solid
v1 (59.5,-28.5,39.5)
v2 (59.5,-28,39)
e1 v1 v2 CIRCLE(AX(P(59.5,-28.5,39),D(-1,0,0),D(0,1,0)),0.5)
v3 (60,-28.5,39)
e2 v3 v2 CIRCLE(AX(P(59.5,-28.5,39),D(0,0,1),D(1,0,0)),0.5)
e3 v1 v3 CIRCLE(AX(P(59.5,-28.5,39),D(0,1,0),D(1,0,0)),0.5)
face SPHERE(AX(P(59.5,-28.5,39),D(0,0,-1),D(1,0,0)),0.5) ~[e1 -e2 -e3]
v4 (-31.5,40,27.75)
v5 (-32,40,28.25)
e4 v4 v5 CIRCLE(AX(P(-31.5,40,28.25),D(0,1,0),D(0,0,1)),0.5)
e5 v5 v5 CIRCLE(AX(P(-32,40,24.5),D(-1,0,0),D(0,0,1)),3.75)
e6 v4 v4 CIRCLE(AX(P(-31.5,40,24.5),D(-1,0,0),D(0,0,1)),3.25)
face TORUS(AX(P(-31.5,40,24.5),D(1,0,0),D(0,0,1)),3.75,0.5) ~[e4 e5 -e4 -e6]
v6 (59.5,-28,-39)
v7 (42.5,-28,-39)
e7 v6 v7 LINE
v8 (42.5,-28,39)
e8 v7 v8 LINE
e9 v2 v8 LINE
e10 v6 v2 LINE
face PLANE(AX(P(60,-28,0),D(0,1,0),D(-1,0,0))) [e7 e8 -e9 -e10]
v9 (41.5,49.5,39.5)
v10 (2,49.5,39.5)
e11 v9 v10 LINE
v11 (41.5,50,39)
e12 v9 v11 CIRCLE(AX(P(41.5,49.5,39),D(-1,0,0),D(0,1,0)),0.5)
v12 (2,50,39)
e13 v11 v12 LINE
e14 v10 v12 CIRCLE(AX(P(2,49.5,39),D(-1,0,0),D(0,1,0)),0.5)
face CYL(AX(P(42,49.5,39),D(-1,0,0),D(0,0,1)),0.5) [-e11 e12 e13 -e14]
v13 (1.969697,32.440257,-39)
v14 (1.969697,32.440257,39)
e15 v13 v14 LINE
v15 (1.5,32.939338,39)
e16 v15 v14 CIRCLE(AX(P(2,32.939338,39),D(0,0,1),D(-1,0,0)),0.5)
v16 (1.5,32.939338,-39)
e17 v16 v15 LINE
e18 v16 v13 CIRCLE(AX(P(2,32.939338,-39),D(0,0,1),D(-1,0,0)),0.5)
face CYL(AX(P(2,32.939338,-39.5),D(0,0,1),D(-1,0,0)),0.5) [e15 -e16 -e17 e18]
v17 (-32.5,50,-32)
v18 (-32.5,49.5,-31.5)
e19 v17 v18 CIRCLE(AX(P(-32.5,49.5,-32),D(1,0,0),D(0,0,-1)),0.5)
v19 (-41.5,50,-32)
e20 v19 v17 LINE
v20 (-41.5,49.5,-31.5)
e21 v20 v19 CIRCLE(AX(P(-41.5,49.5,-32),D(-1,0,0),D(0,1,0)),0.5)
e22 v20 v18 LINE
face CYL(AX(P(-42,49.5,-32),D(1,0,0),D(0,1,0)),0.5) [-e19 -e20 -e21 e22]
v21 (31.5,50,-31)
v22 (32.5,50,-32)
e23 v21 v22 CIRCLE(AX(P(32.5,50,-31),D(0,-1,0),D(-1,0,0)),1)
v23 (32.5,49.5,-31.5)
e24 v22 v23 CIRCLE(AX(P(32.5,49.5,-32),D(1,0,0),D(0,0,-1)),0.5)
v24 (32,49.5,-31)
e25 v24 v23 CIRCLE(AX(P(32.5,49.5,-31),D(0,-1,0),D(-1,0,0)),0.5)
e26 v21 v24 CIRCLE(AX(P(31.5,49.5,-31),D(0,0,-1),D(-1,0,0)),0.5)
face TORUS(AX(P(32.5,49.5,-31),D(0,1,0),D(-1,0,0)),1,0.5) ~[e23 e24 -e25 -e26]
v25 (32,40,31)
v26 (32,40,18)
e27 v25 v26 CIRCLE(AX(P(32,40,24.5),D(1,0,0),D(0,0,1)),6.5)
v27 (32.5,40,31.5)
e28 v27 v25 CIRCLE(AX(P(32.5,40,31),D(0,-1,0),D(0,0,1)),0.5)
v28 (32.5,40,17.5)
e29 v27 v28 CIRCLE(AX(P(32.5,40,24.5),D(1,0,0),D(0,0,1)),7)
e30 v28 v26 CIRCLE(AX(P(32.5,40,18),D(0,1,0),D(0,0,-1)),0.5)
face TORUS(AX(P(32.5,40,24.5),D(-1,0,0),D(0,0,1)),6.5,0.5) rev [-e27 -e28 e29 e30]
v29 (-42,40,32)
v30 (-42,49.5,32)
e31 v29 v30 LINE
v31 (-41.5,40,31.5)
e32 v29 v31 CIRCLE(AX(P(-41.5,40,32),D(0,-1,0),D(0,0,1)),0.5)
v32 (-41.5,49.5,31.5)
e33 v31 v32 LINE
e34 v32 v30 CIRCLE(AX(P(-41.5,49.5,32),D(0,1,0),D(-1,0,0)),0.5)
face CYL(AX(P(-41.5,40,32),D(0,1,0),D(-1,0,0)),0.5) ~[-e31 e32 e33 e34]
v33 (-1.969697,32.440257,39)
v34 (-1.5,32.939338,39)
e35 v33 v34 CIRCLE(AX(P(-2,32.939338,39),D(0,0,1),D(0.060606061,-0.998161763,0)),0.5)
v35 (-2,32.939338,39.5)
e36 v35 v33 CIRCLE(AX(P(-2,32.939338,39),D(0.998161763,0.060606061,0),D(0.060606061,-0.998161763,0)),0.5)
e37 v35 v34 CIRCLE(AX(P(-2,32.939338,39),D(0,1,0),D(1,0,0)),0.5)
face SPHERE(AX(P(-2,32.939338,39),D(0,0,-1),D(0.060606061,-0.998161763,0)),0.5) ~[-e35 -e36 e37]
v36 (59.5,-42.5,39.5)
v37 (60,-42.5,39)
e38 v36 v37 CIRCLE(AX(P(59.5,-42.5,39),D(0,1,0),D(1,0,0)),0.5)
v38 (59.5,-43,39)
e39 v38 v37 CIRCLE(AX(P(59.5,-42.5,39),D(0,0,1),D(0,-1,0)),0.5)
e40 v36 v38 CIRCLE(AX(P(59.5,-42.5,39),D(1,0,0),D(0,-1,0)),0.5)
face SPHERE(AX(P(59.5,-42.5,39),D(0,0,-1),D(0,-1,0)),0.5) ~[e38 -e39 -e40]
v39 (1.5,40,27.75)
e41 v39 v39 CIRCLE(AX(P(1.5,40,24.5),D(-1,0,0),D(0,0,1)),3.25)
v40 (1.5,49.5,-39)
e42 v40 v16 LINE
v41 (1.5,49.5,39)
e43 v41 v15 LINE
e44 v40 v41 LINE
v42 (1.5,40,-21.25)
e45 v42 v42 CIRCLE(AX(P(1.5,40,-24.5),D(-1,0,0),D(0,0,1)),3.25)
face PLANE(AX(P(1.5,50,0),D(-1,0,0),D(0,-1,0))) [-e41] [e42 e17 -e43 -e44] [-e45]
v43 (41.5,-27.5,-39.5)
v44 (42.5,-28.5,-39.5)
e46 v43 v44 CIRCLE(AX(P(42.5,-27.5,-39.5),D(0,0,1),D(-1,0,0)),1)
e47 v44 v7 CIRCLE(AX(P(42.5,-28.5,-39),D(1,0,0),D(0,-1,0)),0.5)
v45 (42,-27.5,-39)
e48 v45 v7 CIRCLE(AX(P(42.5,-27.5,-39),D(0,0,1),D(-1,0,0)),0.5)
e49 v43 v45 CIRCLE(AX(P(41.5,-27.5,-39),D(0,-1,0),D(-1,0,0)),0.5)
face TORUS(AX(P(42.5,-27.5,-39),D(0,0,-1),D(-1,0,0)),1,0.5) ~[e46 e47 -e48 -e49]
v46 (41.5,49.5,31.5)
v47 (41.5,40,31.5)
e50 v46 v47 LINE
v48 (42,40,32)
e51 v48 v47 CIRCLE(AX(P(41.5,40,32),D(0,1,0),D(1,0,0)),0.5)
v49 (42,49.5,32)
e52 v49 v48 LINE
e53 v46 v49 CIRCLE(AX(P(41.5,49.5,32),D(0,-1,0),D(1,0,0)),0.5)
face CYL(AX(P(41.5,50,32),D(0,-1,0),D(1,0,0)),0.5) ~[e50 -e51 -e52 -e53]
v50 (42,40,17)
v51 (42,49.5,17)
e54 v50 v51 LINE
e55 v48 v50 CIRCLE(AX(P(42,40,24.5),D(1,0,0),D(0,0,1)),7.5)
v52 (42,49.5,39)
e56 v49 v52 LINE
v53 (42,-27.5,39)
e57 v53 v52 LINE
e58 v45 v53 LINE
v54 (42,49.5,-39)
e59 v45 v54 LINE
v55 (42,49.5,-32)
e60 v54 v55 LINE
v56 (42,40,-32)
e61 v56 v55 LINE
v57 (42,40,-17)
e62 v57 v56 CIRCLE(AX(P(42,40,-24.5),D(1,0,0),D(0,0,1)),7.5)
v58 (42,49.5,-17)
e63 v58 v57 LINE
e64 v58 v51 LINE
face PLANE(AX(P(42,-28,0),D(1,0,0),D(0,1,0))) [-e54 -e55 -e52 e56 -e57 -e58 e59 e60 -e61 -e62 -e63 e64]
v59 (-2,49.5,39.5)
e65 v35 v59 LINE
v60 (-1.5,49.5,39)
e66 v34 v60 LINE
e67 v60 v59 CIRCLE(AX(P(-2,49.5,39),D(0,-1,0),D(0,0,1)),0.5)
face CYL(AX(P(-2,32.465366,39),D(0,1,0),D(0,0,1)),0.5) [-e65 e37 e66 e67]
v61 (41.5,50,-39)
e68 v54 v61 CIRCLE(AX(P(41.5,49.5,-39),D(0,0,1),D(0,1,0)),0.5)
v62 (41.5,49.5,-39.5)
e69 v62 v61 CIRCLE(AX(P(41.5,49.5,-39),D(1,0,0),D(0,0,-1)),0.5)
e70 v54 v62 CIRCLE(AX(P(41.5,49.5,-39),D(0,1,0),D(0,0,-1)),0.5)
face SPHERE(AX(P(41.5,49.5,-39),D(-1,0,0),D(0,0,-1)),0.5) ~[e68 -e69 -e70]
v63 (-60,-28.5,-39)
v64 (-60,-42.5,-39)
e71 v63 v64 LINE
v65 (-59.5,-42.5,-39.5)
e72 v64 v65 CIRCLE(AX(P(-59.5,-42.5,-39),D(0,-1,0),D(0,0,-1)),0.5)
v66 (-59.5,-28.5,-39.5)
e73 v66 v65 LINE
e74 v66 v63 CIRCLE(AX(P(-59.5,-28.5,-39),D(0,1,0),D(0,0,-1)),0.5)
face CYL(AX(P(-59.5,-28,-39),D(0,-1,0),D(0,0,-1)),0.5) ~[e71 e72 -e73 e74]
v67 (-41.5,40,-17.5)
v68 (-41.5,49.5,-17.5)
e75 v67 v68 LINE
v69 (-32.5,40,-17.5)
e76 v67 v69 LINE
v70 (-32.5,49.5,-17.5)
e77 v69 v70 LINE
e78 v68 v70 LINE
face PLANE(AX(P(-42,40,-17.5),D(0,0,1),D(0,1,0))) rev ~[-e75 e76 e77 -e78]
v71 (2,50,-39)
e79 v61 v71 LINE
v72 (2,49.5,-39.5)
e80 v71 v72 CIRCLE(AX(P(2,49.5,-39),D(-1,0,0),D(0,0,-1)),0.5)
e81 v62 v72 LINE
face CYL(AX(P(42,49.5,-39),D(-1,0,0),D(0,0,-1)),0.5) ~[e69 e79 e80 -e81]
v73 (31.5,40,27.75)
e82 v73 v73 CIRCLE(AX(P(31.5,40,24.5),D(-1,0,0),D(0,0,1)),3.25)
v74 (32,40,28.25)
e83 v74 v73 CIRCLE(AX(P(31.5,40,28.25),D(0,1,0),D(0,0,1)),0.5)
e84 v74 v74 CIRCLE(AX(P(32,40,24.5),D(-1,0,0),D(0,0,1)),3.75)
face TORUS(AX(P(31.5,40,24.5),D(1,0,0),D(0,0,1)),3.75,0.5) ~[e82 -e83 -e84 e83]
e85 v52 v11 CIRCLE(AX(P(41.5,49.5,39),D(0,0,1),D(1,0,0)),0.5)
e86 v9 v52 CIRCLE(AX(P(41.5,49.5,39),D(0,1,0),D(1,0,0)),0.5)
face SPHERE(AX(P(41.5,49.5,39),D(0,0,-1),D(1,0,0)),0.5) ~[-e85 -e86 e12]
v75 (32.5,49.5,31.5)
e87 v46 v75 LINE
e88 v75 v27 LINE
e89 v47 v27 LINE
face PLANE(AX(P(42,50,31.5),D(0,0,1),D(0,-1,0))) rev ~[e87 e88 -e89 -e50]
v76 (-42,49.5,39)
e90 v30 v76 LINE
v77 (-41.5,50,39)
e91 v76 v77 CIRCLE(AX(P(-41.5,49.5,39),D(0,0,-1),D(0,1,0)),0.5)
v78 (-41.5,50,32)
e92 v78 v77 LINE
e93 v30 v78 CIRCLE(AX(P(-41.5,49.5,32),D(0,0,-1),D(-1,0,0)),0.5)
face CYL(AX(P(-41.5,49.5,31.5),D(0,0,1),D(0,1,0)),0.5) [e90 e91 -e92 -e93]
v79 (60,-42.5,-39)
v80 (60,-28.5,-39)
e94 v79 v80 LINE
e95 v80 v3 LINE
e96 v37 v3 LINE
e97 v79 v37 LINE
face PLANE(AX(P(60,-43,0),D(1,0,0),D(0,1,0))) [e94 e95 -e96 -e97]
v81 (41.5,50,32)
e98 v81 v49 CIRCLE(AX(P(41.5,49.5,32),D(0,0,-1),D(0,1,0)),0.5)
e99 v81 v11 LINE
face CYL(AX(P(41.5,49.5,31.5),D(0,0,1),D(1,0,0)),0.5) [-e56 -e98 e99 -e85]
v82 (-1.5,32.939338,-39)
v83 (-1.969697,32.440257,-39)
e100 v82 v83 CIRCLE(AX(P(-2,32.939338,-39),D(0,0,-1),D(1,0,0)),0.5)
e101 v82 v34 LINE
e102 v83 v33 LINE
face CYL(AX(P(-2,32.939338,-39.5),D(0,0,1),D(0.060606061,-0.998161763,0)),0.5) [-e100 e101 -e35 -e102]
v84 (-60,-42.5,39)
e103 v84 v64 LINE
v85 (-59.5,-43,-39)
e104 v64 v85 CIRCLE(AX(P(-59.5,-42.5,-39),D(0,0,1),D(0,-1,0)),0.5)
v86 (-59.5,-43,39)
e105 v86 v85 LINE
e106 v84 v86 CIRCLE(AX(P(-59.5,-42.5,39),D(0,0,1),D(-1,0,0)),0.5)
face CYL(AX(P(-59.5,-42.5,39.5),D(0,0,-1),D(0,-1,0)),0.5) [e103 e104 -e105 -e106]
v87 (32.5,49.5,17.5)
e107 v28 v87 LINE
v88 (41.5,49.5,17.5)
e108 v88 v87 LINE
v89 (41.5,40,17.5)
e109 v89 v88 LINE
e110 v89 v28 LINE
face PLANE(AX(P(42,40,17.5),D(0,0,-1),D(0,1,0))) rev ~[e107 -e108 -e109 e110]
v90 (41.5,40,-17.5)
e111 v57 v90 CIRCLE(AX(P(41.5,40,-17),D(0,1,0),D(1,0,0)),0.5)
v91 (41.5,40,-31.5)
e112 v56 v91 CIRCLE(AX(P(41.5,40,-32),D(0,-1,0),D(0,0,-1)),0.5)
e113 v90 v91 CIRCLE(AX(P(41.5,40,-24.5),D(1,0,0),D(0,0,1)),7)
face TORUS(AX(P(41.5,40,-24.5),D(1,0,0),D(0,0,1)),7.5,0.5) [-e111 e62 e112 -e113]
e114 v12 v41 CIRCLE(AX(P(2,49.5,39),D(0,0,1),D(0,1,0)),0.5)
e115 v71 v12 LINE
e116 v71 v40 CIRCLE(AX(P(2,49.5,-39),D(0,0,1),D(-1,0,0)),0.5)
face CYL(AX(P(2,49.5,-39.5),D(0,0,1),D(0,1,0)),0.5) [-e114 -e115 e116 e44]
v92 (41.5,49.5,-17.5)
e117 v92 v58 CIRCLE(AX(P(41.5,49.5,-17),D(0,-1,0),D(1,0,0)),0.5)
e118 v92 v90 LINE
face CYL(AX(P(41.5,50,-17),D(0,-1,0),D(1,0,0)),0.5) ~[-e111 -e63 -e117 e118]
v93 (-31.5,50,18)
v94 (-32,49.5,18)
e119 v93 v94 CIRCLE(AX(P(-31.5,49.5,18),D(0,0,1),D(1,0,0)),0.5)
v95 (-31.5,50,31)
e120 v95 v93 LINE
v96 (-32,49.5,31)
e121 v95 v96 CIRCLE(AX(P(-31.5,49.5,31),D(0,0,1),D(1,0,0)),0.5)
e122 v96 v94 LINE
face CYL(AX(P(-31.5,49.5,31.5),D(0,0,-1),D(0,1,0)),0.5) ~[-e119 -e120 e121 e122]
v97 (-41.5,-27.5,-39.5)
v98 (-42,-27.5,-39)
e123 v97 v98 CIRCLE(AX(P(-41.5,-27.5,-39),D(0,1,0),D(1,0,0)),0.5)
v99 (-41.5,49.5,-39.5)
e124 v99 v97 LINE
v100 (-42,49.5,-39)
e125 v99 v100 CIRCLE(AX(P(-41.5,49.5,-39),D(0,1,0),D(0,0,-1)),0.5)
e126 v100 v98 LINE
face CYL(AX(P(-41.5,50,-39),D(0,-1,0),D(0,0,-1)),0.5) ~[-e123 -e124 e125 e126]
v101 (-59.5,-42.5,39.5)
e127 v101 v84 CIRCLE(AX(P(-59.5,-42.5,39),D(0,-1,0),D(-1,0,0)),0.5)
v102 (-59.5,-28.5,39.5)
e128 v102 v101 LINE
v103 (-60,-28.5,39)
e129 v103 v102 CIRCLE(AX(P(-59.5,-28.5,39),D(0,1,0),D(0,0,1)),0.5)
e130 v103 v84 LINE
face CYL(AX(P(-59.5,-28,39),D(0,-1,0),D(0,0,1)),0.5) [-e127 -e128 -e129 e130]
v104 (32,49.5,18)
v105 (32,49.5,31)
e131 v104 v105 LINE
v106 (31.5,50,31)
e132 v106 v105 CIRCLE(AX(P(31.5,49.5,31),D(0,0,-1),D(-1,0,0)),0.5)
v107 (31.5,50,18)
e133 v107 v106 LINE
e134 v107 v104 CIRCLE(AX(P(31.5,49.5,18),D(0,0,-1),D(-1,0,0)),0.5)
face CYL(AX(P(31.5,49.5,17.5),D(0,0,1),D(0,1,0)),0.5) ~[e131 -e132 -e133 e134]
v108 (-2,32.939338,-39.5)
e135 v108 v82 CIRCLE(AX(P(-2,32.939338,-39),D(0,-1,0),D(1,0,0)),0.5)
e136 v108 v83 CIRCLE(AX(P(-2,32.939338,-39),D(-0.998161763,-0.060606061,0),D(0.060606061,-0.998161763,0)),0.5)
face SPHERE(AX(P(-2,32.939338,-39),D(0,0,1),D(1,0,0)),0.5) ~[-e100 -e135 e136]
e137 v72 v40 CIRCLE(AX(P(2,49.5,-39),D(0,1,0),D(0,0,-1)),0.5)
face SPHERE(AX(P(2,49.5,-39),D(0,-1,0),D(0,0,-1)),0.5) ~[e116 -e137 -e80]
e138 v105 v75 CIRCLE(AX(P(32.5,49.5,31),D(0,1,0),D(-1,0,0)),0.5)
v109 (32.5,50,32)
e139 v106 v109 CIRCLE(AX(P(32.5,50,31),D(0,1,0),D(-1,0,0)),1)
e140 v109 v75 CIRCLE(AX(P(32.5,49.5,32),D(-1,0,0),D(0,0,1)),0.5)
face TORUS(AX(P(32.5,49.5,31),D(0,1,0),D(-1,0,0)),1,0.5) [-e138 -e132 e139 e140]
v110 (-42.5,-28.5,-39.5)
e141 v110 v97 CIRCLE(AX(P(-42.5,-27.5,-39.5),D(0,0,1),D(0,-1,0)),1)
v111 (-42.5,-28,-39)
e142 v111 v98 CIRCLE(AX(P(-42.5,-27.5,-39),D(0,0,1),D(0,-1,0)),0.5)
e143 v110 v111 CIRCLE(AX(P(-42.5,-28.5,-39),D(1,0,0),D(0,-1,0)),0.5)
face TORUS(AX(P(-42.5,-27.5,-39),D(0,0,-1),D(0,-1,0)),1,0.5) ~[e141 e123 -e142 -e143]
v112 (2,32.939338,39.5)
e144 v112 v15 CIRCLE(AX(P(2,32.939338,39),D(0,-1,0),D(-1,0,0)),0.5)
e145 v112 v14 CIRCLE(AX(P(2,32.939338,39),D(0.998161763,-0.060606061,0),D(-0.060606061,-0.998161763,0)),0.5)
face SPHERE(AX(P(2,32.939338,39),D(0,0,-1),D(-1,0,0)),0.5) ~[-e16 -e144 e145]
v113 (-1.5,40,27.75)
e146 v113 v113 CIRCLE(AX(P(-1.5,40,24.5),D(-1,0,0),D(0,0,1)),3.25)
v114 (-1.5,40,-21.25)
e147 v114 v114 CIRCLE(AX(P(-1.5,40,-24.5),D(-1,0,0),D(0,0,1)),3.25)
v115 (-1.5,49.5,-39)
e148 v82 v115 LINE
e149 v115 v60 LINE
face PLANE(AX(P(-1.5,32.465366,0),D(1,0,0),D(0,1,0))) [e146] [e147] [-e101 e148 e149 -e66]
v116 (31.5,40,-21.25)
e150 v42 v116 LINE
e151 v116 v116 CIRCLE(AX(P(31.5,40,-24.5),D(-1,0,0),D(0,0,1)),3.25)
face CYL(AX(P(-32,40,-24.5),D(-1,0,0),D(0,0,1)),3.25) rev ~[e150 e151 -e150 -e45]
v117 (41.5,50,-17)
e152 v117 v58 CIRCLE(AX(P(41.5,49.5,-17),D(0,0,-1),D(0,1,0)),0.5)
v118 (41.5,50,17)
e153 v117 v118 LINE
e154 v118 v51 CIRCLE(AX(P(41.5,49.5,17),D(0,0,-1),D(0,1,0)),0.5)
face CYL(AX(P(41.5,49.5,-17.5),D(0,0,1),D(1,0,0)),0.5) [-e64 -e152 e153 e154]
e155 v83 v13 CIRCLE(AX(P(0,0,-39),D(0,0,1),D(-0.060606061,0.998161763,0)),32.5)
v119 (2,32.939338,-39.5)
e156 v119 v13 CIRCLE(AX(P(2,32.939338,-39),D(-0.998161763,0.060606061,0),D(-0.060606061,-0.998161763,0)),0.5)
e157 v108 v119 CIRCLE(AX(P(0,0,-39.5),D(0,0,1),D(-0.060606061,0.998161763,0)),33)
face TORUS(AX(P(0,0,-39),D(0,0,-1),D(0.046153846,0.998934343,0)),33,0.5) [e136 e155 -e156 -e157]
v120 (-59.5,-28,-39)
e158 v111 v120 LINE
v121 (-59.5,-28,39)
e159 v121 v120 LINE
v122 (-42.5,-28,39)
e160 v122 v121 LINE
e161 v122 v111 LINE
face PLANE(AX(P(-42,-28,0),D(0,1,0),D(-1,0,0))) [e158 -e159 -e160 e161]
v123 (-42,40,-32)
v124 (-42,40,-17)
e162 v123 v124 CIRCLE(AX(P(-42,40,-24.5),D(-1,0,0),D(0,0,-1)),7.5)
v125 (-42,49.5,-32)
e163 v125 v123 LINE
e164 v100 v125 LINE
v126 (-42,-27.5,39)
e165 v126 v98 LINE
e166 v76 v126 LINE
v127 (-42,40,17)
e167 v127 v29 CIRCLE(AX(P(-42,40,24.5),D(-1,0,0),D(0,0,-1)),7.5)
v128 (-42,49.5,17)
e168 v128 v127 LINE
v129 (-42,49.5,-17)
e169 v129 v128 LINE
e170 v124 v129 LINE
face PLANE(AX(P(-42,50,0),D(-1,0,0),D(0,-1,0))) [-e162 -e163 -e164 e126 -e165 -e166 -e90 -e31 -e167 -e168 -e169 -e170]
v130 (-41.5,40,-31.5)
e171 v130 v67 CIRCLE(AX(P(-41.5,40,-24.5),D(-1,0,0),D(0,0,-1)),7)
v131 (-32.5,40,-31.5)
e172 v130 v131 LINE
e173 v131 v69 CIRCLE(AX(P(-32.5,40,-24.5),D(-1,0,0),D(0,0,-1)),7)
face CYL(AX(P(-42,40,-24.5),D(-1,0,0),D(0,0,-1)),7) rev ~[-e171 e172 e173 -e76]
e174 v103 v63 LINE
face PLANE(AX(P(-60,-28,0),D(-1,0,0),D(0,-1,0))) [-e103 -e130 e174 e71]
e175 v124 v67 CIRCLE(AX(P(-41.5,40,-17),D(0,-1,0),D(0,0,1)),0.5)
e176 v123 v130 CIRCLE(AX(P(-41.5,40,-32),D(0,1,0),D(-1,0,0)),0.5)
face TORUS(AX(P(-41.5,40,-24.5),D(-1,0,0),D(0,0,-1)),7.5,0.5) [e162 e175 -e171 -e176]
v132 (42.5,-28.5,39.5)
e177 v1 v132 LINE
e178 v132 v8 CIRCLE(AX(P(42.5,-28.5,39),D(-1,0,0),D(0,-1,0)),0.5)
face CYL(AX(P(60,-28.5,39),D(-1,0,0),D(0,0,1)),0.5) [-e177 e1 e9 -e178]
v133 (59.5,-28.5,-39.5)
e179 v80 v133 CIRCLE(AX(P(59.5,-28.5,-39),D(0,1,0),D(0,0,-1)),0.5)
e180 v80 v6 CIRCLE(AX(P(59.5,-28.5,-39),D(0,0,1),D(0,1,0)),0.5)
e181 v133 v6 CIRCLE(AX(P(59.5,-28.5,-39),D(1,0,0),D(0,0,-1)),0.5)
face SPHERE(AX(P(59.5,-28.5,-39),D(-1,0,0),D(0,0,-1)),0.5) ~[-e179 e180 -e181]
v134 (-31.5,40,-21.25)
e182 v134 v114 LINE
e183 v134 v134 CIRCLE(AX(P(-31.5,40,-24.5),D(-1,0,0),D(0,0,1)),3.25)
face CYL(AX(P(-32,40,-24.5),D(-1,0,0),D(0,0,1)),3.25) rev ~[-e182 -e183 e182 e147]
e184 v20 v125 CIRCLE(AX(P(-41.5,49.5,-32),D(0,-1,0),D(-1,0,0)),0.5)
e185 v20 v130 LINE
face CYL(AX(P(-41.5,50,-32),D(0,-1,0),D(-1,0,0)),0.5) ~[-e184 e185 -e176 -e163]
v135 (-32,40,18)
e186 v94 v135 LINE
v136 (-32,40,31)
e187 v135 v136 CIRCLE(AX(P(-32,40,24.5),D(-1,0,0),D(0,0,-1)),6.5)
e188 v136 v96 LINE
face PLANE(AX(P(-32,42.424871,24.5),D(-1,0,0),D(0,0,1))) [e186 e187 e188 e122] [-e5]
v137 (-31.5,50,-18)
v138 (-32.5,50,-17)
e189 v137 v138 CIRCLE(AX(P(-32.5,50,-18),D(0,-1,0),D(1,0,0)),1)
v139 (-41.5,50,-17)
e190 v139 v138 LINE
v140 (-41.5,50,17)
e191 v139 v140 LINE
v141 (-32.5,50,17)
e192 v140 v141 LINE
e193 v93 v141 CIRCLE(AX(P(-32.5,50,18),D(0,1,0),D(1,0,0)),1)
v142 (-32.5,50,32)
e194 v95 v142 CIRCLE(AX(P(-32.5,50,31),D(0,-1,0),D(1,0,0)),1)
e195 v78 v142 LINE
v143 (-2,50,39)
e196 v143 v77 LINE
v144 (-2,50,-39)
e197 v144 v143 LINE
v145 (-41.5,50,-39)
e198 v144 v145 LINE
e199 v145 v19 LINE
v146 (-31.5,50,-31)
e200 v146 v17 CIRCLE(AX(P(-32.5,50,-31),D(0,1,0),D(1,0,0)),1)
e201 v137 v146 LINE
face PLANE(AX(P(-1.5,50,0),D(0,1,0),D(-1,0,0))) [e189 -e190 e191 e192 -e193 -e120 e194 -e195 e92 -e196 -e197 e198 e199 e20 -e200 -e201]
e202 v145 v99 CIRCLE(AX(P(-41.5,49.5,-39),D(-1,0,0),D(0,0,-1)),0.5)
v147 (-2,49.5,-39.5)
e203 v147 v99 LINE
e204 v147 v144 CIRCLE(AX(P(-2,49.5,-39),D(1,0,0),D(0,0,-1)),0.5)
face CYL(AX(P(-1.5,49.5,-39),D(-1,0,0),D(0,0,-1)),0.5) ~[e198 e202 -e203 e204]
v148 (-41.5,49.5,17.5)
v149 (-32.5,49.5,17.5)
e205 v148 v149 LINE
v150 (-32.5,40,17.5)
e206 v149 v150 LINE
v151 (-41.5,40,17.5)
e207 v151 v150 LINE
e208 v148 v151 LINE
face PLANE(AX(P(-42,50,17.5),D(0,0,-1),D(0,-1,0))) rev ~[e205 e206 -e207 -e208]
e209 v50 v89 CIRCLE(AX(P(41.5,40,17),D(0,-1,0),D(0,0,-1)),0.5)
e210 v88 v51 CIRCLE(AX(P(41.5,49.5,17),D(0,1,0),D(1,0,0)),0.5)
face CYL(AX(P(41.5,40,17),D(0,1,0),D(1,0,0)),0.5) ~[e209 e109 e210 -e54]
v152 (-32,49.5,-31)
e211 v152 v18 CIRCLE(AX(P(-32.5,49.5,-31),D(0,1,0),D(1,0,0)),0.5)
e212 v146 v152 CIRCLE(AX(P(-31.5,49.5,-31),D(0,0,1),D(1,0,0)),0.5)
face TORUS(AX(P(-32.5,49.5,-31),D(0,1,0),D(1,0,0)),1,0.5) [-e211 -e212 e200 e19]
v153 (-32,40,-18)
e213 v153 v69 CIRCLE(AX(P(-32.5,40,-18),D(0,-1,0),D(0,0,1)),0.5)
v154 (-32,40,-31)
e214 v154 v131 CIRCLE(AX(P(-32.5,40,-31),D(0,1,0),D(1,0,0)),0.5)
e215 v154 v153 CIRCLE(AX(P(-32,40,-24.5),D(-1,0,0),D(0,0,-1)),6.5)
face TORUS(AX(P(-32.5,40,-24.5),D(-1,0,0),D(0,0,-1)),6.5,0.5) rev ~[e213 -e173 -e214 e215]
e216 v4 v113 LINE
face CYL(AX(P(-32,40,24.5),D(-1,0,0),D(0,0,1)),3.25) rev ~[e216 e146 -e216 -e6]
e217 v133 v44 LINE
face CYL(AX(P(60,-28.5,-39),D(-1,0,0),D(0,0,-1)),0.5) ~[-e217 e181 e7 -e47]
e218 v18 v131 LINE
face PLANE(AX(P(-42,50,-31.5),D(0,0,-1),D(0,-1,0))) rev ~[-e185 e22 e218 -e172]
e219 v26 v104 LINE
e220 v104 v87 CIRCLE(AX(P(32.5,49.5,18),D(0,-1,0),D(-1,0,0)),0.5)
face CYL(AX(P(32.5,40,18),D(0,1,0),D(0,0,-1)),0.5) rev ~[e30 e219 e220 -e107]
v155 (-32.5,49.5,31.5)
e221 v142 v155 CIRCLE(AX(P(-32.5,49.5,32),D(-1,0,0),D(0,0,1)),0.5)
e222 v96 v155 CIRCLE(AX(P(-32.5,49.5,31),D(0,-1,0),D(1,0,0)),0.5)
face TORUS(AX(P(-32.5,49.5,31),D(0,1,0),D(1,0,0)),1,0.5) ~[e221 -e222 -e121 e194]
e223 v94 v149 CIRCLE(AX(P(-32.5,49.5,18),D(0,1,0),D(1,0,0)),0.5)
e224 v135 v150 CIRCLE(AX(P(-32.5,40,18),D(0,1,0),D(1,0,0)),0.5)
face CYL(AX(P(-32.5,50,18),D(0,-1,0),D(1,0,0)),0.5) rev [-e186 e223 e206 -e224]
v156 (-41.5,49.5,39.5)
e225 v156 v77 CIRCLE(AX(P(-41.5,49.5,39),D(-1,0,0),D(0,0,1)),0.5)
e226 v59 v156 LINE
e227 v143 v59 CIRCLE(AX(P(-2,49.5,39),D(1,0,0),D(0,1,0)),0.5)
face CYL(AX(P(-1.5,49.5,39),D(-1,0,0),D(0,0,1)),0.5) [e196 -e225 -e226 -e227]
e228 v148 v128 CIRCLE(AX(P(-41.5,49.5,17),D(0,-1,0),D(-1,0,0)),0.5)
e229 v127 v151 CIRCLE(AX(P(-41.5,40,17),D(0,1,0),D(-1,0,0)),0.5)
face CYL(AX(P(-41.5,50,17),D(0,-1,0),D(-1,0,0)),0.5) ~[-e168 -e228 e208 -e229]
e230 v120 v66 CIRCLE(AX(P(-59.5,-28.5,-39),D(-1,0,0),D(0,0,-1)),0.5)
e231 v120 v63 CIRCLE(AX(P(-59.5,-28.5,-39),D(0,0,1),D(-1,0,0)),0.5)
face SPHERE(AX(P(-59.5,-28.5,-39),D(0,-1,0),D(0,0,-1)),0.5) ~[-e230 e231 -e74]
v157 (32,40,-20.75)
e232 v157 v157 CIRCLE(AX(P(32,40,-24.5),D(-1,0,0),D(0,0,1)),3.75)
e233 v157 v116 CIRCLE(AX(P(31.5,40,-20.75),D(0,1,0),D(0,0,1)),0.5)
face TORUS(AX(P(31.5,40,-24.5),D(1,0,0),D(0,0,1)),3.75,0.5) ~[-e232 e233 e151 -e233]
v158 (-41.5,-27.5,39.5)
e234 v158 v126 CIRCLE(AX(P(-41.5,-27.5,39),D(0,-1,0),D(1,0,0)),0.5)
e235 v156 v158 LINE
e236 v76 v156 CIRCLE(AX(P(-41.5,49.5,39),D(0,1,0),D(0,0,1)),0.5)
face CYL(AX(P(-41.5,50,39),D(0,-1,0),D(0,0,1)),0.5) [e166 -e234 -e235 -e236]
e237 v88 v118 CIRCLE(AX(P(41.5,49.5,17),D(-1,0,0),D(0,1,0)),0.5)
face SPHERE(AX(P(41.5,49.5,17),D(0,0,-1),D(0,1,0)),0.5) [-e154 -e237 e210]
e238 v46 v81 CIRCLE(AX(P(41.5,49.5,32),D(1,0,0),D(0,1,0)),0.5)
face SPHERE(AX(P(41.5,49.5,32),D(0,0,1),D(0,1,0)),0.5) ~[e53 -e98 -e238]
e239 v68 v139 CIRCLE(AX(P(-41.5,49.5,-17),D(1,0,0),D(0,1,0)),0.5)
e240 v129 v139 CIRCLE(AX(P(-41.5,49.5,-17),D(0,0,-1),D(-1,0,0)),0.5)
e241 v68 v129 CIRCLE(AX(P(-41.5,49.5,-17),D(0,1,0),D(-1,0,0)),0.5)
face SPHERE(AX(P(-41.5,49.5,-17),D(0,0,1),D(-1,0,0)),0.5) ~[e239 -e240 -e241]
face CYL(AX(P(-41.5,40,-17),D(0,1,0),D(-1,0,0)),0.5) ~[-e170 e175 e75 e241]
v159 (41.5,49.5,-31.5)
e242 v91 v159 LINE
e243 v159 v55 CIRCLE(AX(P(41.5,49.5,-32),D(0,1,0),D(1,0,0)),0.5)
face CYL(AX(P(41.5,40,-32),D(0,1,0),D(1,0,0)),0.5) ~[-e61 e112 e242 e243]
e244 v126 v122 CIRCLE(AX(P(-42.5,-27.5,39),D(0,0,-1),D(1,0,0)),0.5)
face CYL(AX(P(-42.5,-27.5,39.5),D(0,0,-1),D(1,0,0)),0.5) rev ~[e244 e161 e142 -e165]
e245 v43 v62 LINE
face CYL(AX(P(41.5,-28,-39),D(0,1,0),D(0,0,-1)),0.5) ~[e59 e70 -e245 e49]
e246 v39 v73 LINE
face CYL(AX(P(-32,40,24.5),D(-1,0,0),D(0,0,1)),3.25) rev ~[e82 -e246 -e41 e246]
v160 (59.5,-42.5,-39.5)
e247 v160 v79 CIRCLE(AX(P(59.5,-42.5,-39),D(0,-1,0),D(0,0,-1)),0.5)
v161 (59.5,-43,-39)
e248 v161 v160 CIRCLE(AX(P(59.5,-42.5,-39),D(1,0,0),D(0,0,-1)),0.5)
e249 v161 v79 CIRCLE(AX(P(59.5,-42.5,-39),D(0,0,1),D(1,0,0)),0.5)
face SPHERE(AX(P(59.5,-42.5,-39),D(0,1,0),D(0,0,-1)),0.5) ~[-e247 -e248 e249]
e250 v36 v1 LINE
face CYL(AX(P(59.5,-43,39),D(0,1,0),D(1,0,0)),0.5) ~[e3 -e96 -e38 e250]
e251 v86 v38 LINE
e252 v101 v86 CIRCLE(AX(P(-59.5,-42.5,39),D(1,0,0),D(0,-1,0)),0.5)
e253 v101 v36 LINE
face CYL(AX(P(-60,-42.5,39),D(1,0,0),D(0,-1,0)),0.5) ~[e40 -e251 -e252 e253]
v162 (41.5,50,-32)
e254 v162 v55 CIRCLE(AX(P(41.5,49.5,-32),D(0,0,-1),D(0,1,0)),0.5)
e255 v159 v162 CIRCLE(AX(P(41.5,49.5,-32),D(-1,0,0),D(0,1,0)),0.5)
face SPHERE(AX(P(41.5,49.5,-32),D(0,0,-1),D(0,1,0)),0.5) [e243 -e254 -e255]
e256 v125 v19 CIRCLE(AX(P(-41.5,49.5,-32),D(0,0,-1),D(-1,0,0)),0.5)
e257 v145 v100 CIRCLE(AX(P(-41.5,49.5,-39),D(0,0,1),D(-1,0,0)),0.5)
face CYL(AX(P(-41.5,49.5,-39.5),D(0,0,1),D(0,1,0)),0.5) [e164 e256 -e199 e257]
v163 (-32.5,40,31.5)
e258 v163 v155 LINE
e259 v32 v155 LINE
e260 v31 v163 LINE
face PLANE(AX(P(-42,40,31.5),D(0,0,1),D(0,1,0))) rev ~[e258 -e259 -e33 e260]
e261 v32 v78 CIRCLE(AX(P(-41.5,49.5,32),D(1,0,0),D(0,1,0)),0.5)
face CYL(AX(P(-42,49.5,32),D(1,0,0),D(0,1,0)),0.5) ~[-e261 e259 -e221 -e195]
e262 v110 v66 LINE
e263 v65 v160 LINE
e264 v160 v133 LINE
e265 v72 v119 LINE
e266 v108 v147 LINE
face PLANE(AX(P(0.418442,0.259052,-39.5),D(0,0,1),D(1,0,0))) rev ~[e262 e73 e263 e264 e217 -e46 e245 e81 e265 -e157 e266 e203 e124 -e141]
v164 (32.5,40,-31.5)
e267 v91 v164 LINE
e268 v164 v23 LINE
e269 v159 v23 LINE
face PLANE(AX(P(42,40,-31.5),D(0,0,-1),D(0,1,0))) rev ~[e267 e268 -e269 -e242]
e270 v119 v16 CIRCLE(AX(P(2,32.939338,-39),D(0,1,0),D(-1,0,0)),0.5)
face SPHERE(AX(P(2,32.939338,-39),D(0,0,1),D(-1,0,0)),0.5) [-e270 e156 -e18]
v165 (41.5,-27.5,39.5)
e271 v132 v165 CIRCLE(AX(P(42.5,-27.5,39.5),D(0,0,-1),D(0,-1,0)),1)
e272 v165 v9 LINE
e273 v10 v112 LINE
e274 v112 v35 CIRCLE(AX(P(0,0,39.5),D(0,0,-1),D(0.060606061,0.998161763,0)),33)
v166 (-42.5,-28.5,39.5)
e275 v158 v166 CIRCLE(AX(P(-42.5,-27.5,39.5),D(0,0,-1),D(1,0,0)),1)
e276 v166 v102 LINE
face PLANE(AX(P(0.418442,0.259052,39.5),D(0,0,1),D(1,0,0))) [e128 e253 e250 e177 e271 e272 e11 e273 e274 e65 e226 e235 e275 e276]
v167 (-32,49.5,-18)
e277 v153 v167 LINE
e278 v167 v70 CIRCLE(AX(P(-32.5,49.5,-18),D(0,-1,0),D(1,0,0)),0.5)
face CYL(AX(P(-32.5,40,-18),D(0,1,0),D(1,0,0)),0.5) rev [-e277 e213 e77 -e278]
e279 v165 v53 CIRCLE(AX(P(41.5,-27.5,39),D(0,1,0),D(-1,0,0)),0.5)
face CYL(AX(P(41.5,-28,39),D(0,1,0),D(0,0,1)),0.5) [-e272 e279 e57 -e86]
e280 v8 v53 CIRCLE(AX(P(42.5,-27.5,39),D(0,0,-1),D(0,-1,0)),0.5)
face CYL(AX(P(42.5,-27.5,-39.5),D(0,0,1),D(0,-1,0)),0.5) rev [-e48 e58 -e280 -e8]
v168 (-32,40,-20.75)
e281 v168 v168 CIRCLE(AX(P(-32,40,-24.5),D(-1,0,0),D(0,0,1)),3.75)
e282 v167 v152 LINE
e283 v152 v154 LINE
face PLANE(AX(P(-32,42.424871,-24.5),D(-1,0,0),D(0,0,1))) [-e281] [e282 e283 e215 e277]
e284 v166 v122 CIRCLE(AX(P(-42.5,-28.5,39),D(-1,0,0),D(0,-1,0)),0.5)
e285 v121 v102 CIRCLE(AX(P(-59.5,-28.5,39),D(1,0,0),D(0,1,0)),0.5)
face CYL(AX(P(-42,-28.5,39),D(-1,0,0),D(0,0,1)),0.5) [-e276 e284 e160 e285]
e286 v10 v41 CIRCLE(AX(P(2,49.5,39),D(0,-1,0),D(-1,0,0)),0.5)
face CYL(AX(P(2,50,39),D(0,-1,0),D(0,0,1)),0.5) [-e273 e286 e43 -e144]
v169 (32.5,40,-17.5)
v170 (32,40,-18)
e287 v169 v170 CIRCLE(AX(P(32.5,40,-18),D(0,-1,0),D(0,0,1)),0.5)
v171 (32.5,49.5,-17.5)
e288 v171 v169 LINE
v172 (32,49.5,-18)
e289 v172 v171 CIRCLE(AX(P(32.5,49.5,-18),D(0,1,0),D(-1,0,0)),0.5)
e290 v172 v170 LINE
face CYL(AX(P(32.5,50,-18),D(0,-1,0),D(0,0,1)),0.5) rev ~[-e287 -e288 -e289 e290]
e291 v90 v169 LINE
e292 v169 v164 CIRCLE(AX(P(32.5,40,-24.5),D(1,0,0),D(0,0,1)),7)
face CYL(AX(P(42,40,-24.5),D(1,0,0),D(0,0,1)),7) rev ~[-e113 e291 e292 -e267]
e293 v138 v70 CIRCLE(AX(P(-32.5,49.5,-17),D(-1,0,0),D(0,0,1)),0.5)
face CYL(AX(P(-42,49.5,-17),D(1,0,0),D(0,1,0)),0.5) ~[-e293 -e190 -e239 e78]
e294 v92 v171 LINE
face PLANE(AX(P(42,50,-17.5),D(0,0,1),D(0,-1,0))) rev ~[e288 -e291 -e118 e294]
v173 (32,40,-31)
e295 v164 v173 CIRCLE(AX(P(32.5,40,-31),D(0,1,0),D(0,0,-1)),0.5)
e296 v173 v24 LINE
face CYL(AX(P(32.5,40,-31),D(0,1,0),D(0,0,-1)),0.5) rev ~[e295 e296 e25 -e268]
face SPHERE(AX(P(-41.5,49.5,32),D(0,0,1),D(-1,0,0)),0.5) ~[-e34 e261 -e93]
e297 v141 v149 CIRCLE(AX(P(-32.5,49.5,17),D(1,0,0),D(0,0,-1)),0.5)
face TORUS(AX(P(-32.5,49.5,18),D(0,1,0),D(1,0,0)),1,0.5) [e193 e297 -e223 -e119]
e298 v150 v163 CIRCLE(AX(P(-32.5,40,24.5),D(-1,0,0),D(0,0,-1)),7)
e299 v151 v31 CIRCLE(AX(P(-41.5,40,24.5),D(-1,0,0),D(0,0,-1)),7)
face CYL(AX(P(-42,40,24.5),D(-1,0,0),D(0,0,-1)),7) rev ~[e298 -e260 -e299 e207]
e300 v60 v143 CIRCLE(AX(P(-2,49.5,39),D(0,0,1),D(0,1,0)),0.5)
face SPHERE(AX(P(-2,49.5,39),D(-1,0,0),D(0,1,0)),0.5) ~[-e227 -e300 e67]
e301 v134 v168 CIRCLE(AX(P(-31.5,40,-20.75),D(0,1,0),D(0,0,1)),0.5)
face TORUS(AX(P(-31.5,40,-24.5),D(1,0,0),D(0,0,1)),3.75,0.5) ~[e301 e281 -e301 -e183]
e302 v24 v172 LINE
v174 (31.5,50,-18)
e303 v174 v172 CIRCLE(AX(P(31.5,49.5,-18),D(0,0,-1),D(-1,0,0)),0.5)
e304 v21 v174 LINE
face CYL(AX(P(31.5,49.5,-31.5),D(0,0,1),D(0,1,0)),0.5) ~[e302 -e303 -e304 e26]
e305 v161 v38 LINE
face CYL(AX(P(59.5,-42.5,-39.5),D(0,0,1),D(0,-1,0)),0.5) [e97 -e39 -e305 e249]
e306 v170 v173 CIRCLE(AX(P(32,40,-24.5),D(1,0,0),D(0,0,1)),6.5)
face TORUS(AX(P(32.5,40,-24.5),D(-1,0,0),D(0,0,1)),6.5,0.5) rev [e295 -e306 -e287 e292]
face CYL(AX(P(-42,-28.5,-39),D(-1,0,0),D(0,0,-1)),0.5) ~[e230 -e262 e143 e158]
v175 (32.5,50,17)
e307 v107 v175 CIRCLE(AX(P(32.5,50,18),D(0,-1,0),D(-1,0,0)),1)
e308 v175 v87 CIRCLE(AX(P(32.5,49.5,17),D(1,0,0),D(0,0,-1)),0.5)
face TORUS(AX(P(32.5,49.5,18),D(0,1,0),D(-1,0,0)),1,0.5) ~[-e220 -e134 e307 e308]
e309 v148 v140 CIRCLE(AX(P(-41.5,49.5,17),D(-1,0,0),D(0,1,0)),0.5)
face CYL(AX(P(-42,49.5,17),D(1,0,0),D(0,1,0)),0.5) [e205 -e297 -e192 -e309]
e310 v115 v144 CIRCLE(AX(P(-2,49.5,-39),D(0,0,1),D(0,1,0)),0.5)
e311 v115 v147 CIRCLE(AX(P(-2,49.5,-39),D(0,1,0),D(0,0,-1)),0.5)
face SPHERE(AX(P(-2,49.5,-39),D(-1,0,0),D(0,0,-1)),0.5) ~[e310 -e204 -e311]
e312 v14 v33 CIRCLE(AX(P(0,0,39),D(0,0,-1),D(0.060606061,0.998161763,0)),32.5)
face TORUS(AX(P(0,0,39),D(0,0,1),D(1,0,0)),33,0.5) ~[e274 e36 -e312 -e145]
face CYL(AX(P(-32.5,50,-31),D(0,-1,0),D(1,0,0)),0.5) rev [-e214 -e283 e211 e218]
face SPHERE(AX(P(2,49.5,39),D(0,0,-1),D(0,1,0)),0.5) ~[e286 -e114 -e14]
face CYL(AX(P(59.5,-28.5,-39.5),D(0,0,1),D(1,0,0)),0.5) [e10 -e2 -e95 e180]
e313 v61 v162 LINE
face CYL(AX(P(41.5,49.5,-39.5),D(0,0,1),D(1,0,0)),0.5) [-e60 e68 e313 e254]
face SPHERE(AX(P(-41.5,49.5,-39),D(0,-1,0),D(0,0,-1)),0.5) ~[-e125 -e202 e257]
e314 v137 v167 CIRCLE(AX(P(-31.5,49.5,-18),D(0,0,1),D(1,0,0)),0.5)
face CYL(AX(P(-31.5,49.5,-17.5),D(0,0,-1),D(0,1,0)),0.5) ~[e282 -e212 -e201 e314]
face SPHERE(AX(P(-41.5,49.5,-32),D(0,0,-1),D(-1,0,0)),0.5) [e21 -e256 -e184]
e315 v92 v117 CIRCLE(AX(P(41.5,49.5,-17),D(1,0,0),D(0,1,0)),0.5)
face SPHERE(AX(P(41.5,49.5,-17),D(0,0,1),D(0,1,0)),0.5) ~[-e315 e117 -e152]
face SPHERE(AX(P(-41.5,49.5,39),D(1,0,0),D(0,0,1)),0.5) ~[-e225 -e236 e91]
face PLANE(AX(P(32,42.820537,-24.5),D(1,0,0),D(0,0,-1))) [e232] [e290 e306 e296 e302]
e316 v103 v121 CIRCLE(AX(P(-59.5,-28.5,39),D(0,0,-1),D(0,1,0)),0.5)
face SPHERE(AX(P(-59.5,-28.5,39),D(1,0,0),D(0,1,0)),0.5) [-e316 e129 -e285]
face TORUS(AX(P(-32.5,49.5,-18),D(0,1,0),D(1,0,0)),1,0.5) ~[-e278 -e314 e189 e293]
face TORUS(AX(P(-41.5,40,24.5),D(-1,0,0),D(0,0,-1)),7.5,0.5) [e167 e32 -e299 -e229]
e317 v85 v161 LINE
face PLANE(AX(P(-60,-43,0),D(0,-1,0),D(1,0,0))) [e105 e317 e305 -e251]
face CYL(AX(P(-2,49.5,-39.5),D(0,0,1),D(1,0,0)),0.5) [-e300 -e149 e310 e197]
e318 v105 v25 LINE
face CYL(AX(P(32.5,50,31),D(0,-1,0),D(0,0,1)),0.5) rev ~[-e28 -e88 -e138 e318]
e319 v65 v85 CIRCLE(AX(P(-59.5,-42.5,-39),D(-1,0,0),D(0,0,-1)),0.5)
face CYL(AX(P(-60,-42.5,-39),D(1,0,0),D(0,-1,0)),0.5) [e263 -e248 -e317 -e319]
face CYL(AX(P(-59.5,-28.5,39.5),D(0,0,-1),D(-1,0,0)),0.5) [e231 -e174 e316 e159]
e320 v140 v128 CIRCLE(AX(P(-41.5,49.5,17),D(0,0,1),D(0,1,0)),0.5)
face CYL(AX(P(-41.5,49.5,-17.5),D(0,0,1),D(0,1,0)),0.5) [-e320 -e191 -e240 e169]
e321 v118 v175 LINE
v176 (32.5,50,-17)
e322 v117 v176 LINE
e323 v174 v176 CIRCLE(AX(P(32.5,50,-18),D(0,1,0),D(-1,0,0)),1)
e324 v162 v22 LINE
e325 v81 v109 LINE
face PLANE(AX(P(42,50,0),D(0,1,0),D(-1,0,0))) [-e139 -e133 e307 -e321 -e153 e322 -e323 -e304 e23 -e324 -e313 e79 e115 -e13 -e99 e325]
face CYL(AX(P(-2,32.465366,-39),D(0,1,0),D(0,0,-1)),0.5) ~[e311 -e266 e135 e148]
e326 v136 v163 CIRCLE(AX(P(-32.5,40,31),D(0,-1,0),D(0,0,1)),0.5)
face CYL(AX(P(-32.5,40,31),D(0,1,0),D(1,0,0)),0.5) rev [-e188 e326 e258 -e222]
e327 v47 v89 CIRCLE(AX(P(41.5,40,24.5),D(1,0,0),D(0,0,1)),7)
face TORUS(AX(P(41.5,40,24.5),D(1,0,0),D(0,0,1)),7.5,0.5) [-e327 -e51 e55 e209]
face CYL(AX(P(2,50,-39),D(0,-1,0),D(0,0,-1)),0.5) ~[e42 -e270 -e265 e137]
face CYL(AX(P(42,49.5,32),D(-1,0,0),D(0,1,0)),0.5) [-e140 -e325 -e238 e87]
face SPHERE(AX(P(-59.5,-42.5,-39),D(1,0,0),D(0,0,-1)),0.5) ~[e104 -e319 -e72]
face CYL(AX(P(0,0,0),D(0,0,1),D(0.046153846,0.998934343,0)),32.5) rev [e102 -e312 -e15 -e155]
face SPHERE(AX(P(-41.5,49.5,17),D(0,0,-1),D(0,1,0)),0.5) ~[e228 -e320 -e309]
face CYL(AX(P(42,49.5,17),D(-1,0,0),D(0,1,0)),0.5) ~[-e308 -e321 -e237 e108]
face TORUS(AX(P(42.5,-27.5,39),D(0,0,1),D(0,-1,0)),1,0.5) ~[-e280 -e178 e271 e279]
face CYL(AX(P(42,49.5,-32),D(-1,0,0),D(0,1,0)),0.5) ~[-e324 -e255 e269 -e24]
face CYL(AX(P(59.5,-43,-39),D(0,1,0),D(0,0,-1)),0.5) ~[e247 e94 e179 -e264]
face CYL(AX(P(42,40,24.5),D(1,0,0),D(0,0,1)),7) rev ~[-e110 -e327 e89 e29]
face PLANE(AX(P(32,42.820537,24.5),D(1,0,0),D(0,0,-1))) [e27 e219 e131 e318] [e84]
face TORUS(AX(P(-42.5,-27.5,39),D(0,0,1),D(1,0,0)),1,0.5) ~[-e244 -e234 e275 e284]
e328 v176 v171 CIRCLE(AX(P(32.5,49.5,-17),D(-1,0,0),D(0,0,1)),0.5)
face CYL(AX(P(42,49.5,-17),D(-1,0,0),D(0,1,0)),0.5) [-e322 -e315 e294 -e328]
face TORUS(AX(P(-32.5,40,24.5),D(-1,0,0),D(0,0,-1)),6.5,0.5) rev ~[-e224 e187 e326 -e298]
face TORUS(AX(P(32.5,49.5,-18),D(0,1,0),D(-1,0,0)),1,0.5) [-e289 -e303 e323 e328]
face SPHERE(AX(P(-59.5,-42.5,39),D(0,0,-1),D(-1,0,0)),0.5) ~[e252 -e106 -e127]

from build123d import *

# Parameters (mm, degrees)
EXTRUDE_1_DEPTH     = 39.5
CUT_EXTRUDE_1_DEPTH = 10
CUT_EXTRUDE_2_DEPTH = 10
SKETCH_4_R          = 3.25
CUT_EXTRUDE_3_DEPTH = 93
FILLET_1_R          = 0.5


with BuildPart() as part:
    # Эскиз1 → Бобышка-Вытянуть1 (new body, symmetric)
    with BuildSketch(Plane.XY):
        with BuildLine():
            Line((-60, -43), (60, -43))
            Line((60, -43), (60, -28))
            Line((60, -28), (42, -28))
            Line((42, -28), (42, 50))
            Line((42, 50), (1.5, 50))
            Line((1.5, 50), (1.5, 32.465366161))
            ThreePointArc((1.5, 32.465366161), (23.505318547, 22.444375687), (32.5, 0))
            ThreePointArc((32.5, 0), (-22.444375687, -23.505318547), (-1.5, 32.465366161))
            Line((-1.5, 32.465366161), (-1.5, 50))
            Line((-1.5, 50), (-42, 50))
            Line((-42, 50), (-42, -28))
            Line((-42, -28), (-60, -28))
            Line((-60, -28), (-60, -43))
        make_face()
    extrude(amount=EXTRUDE_1_DEPTH, both=True)

    # Эскиз2 → Вырез-Вытянуть1 (cut)
    with BuildSketch(Plane.ZY.offset(42)):
        with BuildLine():
            ThreePointArc((-17.5, 40), (-24.5, 47), (-31.5, 40))
            Line((-31.5, 40), (-17.5, 40))
        make_face()
        with BuildLine():
            Line((-17.5, 40), (-31.5, 40))
            ThreePointArc((-31.5, 40), (-24.5, 33), (-17.5, 40))
        make_face()
        with BuildLine():
            Line((-17.5, 50), (-31.5, 50))
            Line((-31.5, 50), (-31.5, 40))
            ThreePointArc((-31.5, 40), (-24.5, 47), (-17.5, 40))
            Line((-17.5, 40), (-17.5, 50))
        make_face()
        with BuildLine():
            ThreePointArc((31.5, 40), (24.5, 47), (17.5, 40))
            Line((17.5, 40), (31.5, 40))
        make_face()
        with BuildLine():
            Line((31.5, 40), (17.5, 40))
            ThreePointArc((17.5, 40), (24.5, 33), (31.5, 40))
        make_face()
        with BuildLine():
            ThreePointArc((31.5, 40), (24.5, 47), (17.5, 40))
            Line((17.5, 40), (31.5, 40))
        make_face()
        with BuildLine():
            Line((31.5, 40), (17.5, 40))
            ThreePointArc((17.5, 40), (24.5, 33), (31.5, 40))
        make_face()
        with BuildLine():
            Line((31.5, 50), (17.5, 50))
            Line((17.5, 50), (17.5, 40))
            ThreePointArc((17.5, 40), (24.5, 47), (31.5, 40))
            Line((31.5, 40), (31.5, 50))
        make_face()
    extrude(amount=-CUT_EXTRUDE_1_DEPTH, mode=Mode.SUBTRACT)

    # Эскиз3 → Вырез-Вытянуть2 (cut)
    with BuildSketch(Plane(origin=(42, 0, 0), x_dir=(0, 0, -1), z_dir=(1, 0, 0))):
        with BuildLine():
            Line((-31.5, 50), (-31.5, 40))
            ThreePointArc((-31.5, 40), (-24.5, 33), (-17.5, 40))
            Line((-17.5, 40), (-17.5, 50))
            Line((-17.5, 50), (-31.5, 50))
        make_face()
        with BuildLine():
            Line((17.5, 50), (17.5, 40))
            ThreePointArc((17.5, 40), (24.5, 33), (31.5, 40))
            Line((31.5, 40), (31.5, 50))
            Line((31.5, 50), (17.5, 50))
        make_face()
    extrude(amount=-CUT_EXTRUDE_2_DEPTH, mode=Mode.SUBTRACT)

    # Эскиз4 → Вырез-Вытянуть3 (cut, through all)
    with BuildSketch(Plane.ZY.offset(32)):
        with Locations((-24.5, 40)):
            Circle(SKETCH_4_R)
        with Locations((24.5, 40)):
            Circle(SKETCH_4_R)
    extrude(amount=-CUT_EXTRUDE_3_DEPTH, mode=Mode.SUBTRACT)

    # Скругление1
    fillet_1_edges = [part.edges().sort_by_distance(p)[0] for p in [
        (32, 40, 21.25),
        (-32, 40, 21.25),
        (1.5, 41.232683081, -39.5),
        (-21.75, 50, 39.5),
        (21.75, 50, -39.5),
        (42, 11, -39.5),
        (51, -28, -39.5),
        (60, -35.5, -39.5),
        (0, -43, -39.5),
        (-60, -35.5, -39.5),
        (-51, -28, -39.5),
        (-42, 11, -39.5),
        (-42, 11, 39.5),
        (-21.75, 50, -39.5),
        (-1.5, 41.232683081, -39.5),
        (0, -32.5, -39.5),
        (-51, -28, 39.5),
        (1.5, 32.465366161, 0),
        (1.5, 50, 0),
        (42, 50, 35.5),
        (42, -28, 0),
        (60, -28, 0),
        (60, -43, 0),
        (-60, -43, 0),
        (-60, -28, 0),
        (-42, -28, 0),
        (-42, 50, 35.5),
        (-1.5, 50, 0),
        (-1.5, 32.465366161, 0),
        (-60, -35.5, 39.5),
        (0, -43, 39.5),
        (60, -35.5, 39.5),
        (-42, 50, 0),
        (51, -28, 39.5),
        (-32, 33, 24.5),
        (-32, 45, 17.5),
        (-32, 50, 24.5),
        (-37, 50, 17.5),
        (-42, 45, 31.5),
        (42, 11, 39.5),
        (-37, 50, 31.5),
        (-32, 45, 31.5),
        (-42, 33, 24.5),
        (-42, 45, 17.5),
        (21.75, 50, 39.5),
        (1.5, 41.232683081, 39.5),
        (-42, 50, -35.5),
        (0, -32.5, 39.5),
        (-32, 33, -24.5),
        (-42, 33, -24.5),
        (-42, 45, -31.5),
        (-32, 45, -17.5),
        (-32, 50, -24.5),
        (-37, 50, -31.5),
        (-42, 45, -17.5),
        (-37, 50, -17.5),
        (-32, 45, -31.5),
        (42, 50, 0),
        (32, 33, 24.5),
        (32, 45, 31.5),
        (32, 50, 24.5),
        (37, 50, 31.5),
        (32, 45, 17.5),
        (37, 50, 17.5),
        (42, 33, 24.5),
        (42, 45, 17.5),
        (42, 45, 31.5),
        (42, 50, -35.5),
        (32, 33, -24.5),
        (32, 45, -17.5),
        (32, 50, -24.5),
        (37, 50, -17.5),
        (32, 45, -31.5),
        (37, 50, -31.5),
        (42, 33, -24.5),
        (42, 45, -31.5),
        (42, 45, -17.5),
        (-1.5, 41.232683081, 39.5),
        (32, 40, -27.75),
        (-32, 40, -27.75),
    ]]
    fillet(fillet_1_edges, radius=FILLET_1_R)


solid = part.part
